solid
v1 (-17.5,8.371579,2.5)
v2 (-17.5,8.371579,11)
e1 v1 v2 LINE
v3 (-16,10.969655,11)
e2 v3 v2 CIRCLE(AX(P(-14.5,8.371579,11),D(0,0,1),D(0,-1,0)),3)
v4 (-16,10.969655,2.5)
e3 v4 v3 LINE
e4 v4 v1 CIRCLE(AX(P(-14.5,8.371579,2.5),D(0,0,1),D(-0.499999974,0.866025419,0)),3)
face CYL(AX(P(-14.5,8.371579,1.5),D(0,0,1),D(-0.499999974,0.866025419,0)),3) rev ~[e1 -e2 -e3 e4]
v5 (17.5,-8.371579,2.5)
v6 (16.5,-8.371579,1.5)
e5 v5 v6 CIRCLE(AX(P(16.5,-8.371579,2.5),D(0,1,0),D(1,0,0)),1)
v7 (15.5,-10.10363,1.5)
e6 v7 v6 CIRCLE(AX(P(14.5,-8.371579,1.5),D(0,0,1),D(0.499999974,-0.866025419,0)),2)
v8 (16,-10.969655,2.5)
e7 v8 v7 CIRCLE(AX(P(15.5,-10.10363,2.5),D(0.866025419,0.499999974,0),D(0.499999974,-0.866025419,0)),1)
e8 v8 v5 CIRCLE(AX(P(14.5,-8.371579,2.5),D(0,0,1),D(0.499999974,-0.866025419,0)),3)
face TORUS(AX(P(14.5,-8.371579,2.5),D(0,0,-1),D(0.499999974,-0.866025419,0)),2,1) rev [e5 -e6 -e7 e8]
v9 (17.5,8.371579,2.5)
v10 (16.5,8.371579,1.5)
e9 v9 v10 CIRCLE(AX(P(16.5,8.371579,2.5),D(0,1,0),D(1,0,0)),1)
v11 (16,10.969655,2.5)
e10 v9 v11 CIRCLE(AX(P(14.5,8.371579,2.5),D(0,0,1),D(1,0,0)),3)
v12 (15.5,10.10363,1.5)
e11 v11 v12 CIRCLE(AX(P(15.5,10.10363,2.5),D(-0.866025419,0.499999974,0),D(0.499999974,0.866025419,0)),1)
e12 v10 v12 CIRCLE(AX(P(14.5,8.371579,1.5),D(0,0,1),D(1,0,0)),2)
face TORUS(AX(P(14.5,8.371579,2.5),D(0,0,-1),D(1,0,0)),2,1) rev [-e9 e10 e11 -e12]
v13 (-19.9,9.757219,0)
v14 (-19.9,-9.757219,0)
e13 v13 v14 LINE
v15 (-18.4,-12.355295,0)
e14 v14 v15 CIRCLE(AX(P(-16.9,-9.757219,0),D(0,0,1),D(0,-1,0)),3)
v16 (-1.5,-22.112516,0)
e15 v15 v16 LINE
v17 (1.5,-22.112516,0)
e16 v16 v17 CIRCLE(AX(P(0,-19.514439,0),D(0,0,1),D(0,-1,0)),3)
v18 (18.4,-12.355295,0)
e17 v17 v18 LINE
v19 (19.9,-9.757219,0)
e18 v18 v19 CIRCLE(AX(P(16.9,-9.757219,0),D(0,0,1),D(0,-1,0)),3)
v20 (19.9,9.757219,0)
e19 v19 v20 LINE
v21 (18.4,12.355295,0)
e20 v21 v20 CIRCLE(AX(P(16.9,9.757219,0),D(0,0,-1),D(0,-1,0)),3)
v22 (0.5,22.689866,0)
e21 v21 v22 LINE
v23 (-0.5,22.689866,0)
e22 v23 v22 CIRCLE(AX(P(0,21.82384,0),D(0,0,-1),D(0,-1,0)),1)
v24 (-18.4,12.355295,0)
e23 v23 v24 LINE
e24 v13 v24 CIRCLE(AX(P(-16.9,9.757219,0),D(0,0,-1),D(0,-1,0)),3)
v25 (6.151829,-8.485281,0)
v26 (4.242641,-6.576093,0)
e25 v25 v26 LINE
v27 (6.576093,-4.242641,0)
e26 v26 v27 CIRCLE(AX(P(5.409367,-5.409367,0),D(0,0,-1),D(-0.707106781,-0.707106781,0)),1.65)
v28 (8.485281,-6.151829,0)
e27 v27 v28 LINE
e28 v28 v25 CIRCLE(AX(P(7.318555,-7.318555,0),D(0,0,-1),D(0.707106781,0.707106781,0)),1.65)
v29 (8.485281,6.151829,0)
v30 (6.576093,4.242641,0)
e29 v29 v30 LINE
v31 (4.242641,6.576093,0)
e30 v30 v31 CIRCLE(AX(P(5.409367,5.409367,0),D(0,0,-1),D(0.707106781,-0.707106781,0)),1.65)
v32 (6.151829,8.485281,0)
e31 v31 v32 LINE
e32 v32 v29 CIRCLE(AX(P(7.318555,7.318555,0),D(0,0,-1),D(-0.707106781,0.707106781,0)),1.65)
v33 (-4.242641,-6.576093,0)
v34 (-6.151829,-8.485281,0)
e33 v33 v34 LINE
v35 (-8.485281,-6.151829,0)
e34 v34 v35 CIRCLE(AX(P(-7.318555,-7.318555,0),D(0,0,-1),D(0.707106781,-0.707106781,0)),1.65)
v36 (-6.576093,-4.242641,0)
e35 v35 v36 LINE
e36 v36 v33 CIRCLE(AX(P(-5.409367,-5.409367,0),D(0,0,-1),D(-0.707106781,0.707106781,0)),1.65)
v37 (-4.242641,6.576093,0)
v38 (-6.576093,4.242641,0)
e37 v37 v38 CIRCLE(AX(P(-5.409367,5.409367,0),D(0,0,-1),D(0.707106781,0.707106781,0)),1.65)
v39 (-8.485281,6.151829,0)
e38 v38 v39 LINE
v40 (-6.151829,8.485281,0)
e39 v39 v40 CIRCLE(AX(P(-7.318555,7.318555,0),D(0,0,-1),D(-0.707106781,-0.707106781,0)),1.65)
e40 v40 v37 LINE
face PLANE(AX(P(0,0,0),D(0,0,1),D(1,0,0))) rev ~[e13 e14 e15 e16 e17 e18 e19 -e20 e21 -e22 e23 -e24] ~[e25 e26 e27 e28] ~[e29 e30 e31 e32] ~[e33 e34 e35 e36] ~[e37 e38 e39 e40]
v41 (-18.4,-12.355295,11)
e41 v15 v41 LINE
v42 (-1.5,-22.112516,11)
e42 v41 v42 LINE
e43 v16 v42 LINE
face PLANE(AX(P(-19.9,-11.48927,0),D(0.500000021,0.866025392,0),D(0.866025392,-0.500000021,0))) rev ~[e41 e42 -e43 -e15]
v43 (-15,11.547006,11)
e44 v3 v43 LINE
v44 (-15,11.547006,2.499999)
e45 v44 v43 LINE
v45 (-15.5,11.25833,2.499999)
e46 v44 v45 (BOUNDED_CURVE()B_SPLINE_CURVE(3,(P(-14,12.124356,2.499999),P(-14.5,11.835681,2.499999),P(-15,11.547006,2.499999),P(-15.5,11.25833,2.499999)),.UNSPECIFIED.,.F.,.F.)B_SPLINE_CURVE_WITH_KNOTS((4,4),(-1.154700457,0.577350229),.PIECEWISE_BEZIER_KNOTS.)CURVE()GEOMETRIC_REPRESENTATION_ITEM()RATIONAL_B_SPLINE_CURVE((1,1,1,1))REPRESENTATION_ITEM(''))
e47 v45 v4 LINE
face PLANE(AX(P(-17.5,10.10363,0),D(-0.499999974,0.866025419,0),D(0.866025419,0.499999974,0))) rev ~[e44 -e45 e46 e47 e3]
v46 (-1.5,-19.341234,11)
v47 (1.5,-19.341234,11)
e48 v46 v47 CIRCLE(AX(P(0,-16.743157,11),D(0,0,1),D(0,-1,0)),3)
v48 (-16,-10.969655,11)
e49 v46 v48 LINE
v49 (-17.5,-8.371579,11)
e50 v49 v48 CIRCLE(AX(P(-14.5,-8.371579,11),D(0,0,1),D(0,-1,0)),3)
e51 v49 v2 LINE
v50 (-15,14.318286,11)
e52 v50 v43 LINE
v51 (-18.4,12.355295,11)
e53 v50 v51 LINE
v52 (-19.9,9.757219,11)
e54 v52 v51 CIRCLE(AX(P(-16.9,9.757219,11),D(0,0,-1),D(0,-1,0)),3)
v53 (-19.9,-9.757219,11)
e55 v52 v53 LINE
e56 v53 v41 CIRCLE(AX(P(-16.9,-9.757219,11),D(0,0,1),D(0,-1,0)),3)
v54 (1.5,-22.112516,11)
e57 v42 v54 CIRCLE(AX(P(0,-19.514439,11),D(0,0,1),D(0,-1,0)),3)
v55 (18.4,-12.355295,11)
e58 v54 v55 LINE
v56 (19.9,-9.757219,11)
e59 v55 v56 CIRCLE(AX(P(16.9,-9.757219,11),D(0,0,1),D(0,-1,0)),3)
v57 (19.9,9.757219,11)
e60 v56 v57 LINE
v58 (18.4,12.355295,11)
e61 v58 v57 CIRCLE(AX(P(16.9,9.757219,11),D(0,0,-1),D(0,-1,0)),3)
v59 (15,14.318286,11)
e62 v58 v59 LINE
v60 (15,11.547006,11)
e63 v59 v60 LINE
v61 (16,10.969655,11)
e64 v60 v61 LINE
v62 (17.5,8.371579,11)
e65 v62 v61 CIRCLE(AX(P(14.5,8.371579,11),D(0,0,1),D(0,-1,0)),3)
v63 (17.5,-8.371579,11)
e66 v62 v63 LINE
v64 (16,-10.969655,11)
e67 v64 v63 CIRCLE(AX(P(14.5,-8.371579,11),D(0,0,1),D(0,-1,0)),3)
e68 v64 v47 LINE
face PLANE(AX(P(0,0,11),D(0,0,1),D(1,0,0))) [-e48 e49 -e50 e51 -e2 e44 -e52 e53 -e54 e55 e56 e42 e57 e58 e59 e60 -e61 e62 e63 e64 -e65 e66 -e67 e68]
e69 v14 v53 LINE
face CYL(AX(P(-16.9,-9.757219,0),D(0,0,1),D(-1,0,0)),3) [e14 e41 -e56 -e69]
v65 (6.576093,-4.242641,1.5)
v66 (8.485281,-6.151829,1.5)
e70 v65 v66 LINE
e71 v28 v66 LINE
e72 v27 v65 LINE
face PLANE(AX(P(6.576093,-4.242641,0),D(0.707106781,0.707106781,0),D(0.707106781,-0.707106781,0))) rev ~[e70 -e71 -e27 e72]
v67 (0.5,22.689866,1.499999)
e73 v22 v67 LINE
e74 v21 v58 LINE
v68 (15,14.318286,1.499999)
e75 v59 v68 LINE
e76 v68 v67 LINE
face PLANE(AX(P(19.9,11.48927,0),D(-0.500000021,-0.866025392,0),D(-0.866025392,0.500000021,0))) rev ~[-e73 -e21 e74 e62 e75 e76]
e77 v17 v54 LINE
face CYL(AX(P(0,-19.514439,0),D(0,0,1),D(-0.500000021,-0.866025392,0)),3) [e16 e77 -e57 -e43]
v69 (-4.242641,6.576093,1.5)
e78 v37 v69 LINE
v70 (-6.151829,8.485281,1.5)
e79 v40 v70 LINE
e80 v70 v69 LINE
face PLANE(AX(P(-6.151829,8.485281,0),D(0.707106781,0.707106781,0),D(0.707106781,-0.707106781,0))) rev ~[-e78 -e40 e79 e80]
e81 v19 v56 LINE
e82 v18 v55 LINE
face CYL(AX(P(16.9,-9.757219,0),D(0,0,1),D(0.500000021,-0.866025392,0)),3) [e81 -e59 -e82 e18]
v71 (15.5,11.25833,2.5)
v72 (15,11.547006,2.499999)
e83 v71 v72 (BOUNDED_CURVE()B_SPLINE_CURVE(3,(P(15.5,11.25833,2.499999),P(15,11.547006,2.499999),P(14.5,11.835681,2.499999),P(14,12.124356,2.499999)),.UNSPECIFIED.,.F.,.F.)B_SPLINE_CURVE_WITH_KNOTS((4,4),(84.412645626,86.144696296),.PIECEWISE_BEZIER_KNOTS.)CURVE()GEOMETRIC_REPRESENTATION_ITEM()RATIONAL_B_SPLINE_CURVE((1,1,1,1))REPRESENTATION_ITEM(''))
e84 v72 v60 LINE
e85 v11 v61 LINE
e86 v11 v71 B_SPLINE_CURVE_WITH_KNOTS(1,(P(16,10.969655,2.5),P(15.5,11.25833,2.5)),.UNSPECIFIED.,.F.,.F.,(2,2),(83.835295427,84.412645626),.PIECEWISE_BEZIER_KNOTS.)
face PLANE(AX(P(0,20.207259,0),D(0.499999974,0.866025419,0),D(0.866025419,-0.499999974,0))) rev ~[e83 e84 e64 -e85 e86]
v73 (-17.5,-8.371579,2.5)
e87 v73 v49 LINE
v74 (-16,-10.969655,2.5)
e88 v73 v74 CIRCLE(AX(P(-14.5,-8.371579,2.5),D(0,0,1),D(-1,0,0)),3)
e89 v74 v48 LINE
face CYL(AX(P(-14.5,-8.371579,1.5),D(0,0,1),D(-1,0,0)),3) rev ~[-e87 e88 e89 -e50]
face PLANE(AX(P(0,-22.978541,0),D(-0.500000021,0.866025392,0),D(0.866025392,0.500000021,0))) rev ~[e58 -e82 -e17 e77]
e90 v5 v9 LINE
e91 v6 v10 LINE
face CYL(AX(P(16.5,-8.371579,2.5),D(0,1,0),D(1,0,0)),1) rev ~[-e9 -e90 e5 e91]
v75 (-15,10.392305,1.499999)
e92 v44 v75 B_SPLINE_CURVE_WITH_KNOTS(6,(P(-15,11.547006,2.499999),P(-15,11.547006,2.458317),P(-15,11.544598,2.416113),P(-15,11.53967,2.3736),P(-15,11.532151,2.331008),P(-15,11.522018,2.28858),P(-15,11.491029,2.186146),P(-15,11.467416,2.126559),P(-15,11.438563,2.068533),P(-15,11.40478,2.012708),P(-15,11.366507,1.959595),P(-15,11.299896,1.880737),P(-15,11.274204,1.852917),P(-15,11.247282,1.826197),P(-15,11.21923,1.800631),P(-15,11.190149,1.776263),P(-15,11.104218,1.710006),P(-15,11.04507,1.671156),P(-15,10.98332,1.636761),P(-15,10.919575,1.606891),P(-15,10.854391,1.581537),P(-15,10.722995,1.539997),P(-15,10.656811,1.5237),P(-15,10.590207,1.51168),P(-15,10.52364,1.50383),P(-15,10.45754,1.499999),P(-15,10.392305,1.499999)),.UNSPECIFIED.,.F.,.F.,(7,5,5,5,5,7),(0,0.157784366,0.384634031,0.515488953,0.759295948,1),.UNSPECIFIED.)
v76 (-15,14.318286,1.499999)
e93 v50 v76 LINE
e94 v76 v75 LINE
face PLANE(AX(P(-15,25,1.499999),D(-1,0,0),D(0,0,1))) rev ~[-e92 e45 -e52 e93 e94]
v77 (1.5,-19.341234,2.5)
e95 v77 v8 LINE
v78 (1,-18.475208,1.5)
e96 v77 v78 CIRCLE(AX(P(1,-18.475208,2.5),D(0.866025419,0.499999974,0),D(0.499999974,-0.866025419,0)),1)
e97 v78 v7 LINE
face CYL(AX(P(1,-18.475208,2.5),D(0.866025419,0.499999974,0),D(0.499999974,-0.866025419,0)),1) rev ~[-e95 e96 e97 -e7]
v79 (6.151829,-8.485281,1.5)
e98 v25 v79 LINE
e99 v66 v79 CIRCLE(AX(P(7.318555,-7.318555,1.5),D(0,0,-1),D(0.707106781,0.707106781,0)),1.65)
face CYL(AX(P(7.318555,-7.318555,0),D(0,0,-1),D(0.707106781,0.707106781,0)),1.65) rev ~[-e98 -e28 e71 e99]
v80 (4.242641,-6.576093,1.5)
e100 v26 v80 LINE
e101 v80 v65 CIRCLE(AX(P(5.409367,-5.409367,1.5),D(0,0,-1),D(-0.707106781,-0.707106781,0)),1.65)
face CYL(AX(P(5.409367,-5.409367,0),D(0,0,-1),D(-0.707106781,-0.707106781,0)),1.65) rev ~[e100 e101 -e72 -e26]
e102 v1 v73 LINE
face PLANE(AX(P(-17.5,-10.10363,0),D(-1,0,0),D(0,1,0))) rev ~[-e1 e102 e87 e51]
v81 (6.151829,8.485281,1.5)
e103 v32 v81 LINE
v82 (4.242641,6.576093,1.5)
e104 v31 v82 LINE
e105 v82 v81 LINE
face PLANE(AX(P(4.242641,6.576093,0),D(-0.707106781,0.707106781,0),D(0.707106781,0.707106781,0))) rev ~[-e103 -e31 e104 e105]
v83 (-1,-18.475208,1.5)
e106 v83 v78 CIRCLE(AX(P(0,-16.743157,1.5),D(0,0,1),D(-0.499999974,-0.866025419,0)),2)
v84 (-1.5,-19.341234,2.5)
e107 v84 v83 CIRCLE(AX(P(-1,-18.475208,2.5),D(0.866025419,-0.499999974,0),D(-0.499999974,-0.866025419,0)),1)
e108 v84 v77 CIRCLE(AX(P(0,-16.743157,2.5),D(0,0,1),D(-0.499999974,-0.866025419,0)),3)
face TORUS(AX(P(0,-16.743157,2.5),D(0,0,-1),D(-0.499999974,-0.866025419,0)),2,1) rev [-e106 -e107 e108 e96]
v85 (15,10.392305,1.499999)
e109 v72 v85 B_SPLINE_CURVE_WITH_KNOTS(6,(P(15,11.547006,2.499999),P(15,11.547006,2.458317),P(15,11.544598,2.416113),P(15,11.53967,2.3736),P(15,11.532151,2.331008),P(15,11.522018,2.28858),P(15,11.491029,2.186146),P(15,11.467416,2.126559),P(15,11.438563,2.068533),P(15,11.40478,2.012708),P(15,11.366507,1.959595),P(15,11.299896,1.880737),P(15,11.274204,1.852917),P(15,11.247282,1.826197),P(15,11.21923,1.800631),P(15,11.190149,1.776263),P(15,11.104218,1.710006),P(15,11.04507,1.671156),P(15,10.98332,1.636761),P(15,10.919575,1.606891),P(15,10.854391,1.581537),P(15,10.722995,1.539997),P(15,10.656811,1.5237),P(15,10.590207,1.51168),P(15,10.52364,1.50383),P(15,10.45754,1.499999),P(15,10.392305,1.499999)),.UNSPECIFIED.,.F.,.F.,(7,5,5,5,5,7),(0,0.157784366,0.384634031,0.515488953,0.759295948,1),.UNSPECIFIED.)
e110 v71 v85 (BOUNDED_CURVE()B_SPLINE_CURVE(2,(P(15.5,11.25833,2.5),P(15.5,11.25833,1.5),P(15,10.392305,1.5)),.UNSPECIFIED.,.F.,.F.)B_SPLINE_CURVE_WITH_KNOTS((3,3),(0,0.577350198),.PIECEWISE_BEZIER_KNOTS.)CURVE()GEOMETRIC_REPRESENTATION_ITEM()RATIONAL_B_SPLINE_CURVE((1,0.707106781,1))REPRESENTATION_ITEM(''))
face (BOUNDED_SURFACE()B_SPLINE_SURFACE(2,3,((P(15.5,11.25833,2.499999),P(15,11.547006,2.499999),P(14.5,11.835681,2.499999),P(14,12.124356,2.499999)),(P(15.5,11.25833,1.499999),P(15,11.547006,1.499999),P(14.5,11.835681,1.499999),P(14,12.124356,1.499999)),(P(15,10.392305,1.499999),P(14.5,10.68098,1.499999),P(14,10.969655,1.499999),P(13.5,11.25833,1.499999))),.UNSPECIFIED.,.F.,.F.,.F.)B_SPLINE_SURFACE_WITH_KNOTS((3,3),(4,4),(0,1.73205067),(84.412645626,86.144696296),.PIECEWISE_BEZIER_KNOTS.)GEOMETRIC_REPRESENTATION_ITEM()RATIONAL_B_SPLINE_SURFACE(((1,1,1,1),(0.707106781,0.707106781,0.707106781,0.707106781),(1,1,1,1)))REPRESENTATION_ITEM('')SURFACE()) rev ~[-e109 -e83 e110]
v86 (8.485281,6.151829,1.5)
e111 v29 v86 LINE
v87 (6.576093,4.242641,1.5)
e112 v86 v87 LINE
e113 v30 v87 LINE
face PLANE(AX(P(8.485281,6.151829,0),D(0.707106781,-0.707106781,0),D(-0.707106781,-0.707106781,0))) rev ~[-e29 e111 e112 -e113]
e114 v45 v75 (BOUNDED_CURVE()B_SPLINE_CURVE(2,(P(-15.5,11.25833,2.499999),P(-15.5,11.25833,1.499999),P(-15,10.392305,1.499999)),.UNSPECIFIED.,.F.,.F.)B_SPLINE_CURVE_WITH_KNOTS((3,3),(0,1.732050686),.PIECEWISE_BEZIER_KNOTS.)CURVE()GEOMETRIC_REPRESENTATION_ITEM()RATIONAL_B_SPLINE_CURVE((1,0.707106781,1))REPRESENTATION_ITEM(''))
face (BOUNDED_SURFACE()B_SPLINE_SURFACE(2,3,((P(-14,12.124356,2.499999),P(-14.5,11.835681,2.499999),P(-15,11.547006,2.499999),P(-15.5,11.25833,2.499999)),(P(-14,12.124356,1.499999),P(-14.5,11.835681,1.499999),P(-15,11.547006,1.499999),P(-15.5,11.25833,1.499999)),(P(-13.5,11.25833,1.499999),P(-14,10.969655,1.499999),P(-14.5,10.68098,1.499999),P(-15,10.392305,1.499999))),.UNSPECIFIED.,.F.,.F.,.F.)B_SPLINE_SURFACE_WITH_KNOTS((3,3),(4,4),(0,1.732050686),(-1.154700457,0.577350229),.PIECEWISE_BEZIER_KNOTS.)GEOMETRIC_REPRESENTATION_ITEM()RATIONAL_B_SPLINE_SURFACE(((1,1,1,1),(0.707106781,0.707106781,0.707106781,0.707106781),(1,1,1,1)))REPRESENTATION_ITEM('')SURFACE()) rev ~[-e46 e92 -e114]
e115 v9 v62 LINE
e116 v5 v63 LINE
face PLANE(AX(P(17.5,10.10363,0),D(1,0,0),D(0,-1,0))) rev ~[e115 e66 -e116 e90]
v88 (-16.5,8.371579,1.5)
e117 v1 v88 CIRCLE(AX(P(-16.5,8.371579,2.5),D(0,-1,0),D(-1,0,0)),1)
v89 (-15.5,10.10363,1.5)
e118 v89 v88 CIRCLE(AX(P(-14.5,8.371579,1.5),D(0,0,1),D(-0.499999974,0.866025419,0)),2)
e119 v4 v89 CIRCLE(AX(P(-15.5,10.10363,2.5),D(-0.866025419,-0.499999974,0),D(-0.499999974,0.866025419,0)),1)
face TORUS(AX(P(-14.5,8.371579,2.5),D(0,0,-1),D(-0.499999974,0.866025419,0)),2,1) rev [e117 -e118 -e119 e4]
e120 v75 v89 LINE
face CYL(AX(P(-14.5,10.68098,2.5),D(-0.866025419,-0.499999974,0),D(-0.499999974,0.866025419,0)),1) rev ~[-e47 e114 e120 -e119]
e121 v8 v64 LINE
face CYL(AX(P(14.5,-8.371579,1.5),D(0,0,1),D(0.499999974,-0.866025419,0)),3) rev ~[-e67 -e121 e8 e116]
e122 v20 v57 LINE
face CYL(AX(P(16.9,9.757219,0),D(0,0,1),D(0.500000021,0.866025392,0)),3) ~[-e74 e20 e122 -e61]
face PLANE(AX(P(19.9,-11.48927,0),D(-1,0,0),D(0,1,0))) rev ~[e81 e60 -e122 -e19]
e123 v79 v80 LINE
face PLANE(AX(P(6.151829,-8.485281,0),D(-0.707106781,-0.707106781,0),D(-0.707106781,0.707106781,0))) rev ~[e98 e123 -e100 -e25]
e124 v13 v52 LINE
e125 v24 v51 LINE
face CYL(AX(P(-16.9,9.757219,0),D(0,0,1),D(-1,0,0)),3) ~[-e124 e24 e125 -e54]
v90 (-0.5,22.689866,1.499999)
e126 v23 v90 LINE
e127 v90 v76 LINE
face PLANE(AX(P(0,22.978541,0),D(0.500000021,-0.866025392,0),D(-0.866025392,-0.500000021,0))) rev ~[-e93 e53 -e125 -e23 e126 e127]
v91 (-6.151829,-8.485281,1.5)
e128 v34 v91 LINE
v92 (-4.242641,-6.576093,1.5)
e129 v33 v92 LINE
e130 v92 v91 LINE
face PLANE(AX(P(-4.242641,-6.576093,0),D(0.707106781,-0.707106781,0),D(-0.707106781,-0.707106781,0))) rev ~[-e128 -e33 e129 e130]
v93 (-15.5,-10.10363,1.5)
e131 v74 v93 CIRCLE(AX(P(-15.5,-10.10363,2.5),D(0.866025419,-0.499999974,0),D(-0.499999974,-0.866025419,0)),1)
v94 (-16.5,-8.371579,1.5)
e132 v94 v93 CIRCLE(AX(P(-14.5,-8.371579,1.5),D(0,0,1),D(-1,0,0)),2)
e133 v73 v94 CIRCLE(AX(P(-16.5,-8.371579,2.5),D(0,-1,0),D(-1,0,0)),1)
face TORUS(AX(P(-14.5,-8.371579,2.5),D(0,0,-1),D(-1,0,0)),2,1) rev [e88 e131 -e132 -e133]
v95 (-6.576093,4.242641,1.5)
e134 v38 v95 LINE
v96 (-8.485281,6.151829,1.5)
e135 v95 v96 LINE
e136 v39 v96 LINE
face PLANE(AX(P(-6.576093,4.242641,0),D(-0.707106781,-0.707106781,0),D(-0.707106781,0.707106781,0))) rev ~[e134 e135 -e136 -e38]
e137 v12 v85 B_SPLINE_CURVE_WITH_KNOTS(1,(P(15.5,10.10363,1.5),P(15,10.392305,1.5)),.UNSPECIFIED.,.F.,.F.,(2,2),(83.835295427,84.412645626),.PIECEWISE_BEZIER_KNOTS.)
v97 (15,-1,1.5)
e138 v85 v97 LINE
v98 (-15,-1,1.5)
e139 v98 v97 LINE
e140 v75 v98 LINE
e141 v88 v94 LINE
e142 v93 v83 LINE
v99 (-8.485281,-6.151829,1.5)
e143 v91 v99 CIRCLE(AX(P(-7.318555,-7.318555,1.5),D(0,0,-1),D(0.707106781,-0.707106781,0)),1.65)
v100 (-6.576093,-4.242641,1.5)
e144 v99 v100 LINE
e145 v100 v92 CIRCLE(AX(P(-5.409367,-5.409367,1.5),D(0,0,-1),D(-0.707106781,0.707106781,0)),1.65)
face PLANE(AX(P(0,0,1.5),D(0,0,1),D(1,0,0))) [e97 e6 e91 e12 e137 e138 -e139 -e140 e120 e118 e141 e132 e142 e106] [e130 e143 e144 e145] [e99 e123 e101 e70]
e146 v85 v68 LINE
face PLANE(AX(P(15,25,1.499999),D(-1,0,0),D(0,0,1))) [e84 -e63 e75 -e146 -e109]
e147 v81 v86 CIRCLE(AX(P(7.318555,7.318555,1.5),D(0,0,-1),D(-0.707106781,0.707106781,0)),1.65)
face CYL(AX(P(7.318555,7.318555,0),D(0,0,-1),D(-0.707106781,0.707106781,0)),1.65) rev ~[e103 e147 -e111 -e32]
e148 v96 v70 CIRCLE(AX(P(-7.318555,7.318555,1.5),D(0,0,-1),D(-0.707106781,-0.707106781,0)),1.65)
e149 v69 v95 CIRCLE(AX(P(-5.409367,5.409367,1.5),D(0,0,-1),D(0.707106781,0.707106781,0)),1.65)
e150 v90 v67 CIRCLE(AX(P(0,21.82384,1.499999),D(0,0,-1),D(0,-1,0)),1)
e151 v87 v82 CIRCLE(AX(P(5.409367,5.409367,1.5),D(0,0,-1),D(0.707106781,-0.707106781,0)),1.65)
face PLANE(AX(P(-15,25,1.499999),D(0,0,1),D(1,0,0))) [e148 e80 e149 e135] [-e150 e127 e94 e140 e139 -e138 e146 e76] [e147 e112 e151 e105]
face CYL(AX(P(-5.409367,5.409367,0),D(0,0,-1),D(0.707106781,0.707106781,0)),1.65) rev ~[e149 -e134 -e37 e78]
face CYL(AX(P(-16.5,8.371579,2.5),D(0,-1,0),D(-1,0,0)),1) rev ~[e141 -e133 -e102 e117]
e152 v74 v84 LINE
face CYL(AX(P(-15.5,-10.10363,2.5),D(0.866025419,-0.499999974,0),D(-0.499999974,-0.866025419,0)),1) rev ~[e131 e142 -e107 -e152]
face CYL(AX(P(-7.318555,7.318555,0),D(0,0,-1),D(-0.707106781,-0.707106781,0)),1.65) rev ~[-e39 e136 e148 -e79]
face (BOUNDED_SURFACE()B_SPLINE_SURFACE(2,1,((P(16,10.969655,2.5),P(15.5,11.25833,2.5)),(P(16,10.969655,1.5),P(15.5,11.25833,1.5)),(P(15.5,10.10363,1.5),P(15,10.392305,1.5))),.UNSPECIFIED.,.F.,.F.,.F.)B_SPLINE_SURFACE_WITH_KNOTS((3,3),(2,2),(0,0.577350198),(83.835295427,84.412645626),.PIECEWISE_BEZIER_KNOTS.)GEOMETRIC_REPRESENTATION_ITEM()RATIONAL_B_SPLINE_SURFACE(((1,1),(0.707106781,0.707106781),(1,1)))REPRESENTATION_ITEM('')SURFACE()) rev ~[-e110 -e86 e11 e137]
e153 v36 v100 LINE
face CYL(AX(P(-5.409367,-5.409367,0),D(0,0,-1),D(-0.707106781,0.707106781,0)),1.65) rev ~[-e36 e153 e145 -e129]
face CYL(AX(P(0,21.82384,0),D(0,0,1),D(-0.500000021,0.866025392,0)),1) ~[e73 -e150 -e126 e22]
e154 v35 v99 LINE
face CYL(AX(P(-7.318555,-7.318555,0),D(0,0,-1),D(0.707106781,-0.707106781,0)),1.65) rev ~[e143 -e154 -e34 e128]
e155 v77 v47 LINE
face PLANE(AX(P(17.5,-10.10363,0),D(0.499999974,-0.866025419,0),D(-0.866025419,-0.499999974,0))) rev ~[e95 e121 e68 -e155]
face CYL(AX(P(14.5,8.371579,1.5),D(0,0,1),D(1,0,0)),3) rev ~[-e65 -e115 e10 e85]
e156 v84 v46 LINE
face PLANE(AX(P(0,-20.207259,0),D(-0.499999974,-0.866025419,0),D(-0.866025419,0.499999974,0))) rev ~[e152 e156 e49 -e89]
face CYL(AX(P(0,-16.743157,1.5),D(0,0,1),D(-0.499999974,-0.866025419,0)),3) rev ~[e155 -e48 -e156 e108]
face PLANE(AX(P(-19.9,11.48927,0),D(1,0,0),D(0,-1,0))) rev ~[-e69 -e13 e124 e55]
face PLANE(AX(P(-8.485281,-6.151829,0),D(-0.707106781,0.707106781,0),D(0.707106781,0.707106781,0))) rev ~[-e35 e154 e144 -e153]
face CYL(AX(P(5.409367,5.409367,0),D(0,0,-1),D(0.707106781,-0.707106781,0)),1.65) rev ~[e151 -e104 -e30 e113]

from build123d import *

# Parameters (mm, degrees)
F1_DEPTH = 1.5
F2_DEPTH = 11
F4_W     = 30
F4_H     = 11.070783
F5_DEPTH = 26
F6_R     = 3
F7_R     = 1


with BuildPart() as f1:
    # F0 (on Top) → F1 (new body)
    with BuildSketch(Plane.XY):
        Polygon((0, -20.207259), (17.5, -10.10363), (17.5, 10.10363), (0, 20.207259), (-17.5, 10.10363), (-17.5, -10.10363), align=None)
        with BuildLine():
            ThreePointArc((-6.151829, -8.485281), (-8.485281, -8.485281), (-8.485281, -6.151829))
            Line((-8.485281, -6.151829), (-6.576093, -4.242641))
            ThreePointArc((-6.576093, -4.242641), (-4.242641, -4.242641), (-4.242641, -6.576093))
            Line((-4.242641, -6.576093), (-6.151829, -8.485281))
        make_face(mode=Mode.SUBTRACT)
        with BuildLine():
            ThreePointArc((8.485281, -6.151829), (8.485281, -8.485281), (6.151829, -8.485281))
            Line((6.151829, -8.485281), (4.242641, -6.576093))
            ThreePointArc((4.242641, -6.576093), (4.242641, -4.242641), (6.576093, -4.242641))
            Line((6.576093, -4.242641), (8.485281, -6.151829))
        make_face(mode=Mode.SUBTRACT)
        with BuildLine():
            ThreePointArc((-8.485281, 6.151829), (-8.485281, 8.485281), (-6.151829, 8.485281))
            Line((-6.151829, 8.485281), (-4.242641, 6.576093))
            ThreePointArc((-4.242641, 6.576093), (-4.242641, 4.242641), (-6.576093, 4.242641))
            Line((-6.576093, 4.242641), (-8.485281, 6.151829))
        make_face(mode=Mode.SUBTRACT)
        with BuildLine():
            Line((4.242641, 6.576093), (6.151829, 8.485281))
            ThreePointArc((6.151829, 8.485281), (8.485281, 8.485281), (8.485281, 6.151829))
            Line((8.485281, 6.151829), (6.576093, 4.242641))
            ThreePointArc((6.576093, 4.242641), (4.242641, 4.242641), (4.242641, 6.576093))
        make_face(mode=Mode.SUBTRACT)
    extrude(amount=F1_DEPTH)

    # F0 (on Top) → F2 (join)
    with BuildSketch(Plane.XY):
        Polygon((-19.9, 11.48927), (-19.9, -11.48927), (0, -22.978541), (19.9, -11.48927), (19.9, 11.48927), (0, 22.978541), align=None)
        Polygon((17.5, 10.10363), (17.5, -10.10363), (0, -20.207259), (-17.5, -10.10363), (-17.5, 10.10363), (0, 20.207259), align=None, mode=Mode.SUBTRACT)
    extrude(amount=F2_DEPTH)

    # F4 (on offset) → F5 (cut)
    with BuildSketch(Plane.XZ.offset(-25)):
        with Locations((0, 7.035391)):
            Rectangle(F4_W, F4_H)
    extrude(amount=F5_DEPTH, mode=Mode.SUBTRACT)

    # F6
    f6_edges = [f1.edges().sort_by_distance(p)[0] for p in [
        (19.9, 11.48927, 5.5),
        (-19.9, 11.48927, 5.5),
        (-19.9, -11.48927, 5.5),
        (0, -22.978541, 5.5),
        (19.9, -11.48927, 5.5),
        (17.5, 10.10363, 6.25),
        (17.5, -10.10363, 6.25),
        (0, -20.207259, 6.25),
        (-17.5, -10.10363, 6.25),
        (-17.5, 10.10363, 6.25),
    ]]
    fillet(f6_edges, radius=F6_R)

    # F7
    f7_edges = [f1.edges().sort_by_distance(p)[0] for p in [
        (-15.5, 11.25833, 1.5),
        (0, 22.978541, 0.75),
    ]]
    fillet(f7_edges, radius=F7_R)


solid = f1.part
